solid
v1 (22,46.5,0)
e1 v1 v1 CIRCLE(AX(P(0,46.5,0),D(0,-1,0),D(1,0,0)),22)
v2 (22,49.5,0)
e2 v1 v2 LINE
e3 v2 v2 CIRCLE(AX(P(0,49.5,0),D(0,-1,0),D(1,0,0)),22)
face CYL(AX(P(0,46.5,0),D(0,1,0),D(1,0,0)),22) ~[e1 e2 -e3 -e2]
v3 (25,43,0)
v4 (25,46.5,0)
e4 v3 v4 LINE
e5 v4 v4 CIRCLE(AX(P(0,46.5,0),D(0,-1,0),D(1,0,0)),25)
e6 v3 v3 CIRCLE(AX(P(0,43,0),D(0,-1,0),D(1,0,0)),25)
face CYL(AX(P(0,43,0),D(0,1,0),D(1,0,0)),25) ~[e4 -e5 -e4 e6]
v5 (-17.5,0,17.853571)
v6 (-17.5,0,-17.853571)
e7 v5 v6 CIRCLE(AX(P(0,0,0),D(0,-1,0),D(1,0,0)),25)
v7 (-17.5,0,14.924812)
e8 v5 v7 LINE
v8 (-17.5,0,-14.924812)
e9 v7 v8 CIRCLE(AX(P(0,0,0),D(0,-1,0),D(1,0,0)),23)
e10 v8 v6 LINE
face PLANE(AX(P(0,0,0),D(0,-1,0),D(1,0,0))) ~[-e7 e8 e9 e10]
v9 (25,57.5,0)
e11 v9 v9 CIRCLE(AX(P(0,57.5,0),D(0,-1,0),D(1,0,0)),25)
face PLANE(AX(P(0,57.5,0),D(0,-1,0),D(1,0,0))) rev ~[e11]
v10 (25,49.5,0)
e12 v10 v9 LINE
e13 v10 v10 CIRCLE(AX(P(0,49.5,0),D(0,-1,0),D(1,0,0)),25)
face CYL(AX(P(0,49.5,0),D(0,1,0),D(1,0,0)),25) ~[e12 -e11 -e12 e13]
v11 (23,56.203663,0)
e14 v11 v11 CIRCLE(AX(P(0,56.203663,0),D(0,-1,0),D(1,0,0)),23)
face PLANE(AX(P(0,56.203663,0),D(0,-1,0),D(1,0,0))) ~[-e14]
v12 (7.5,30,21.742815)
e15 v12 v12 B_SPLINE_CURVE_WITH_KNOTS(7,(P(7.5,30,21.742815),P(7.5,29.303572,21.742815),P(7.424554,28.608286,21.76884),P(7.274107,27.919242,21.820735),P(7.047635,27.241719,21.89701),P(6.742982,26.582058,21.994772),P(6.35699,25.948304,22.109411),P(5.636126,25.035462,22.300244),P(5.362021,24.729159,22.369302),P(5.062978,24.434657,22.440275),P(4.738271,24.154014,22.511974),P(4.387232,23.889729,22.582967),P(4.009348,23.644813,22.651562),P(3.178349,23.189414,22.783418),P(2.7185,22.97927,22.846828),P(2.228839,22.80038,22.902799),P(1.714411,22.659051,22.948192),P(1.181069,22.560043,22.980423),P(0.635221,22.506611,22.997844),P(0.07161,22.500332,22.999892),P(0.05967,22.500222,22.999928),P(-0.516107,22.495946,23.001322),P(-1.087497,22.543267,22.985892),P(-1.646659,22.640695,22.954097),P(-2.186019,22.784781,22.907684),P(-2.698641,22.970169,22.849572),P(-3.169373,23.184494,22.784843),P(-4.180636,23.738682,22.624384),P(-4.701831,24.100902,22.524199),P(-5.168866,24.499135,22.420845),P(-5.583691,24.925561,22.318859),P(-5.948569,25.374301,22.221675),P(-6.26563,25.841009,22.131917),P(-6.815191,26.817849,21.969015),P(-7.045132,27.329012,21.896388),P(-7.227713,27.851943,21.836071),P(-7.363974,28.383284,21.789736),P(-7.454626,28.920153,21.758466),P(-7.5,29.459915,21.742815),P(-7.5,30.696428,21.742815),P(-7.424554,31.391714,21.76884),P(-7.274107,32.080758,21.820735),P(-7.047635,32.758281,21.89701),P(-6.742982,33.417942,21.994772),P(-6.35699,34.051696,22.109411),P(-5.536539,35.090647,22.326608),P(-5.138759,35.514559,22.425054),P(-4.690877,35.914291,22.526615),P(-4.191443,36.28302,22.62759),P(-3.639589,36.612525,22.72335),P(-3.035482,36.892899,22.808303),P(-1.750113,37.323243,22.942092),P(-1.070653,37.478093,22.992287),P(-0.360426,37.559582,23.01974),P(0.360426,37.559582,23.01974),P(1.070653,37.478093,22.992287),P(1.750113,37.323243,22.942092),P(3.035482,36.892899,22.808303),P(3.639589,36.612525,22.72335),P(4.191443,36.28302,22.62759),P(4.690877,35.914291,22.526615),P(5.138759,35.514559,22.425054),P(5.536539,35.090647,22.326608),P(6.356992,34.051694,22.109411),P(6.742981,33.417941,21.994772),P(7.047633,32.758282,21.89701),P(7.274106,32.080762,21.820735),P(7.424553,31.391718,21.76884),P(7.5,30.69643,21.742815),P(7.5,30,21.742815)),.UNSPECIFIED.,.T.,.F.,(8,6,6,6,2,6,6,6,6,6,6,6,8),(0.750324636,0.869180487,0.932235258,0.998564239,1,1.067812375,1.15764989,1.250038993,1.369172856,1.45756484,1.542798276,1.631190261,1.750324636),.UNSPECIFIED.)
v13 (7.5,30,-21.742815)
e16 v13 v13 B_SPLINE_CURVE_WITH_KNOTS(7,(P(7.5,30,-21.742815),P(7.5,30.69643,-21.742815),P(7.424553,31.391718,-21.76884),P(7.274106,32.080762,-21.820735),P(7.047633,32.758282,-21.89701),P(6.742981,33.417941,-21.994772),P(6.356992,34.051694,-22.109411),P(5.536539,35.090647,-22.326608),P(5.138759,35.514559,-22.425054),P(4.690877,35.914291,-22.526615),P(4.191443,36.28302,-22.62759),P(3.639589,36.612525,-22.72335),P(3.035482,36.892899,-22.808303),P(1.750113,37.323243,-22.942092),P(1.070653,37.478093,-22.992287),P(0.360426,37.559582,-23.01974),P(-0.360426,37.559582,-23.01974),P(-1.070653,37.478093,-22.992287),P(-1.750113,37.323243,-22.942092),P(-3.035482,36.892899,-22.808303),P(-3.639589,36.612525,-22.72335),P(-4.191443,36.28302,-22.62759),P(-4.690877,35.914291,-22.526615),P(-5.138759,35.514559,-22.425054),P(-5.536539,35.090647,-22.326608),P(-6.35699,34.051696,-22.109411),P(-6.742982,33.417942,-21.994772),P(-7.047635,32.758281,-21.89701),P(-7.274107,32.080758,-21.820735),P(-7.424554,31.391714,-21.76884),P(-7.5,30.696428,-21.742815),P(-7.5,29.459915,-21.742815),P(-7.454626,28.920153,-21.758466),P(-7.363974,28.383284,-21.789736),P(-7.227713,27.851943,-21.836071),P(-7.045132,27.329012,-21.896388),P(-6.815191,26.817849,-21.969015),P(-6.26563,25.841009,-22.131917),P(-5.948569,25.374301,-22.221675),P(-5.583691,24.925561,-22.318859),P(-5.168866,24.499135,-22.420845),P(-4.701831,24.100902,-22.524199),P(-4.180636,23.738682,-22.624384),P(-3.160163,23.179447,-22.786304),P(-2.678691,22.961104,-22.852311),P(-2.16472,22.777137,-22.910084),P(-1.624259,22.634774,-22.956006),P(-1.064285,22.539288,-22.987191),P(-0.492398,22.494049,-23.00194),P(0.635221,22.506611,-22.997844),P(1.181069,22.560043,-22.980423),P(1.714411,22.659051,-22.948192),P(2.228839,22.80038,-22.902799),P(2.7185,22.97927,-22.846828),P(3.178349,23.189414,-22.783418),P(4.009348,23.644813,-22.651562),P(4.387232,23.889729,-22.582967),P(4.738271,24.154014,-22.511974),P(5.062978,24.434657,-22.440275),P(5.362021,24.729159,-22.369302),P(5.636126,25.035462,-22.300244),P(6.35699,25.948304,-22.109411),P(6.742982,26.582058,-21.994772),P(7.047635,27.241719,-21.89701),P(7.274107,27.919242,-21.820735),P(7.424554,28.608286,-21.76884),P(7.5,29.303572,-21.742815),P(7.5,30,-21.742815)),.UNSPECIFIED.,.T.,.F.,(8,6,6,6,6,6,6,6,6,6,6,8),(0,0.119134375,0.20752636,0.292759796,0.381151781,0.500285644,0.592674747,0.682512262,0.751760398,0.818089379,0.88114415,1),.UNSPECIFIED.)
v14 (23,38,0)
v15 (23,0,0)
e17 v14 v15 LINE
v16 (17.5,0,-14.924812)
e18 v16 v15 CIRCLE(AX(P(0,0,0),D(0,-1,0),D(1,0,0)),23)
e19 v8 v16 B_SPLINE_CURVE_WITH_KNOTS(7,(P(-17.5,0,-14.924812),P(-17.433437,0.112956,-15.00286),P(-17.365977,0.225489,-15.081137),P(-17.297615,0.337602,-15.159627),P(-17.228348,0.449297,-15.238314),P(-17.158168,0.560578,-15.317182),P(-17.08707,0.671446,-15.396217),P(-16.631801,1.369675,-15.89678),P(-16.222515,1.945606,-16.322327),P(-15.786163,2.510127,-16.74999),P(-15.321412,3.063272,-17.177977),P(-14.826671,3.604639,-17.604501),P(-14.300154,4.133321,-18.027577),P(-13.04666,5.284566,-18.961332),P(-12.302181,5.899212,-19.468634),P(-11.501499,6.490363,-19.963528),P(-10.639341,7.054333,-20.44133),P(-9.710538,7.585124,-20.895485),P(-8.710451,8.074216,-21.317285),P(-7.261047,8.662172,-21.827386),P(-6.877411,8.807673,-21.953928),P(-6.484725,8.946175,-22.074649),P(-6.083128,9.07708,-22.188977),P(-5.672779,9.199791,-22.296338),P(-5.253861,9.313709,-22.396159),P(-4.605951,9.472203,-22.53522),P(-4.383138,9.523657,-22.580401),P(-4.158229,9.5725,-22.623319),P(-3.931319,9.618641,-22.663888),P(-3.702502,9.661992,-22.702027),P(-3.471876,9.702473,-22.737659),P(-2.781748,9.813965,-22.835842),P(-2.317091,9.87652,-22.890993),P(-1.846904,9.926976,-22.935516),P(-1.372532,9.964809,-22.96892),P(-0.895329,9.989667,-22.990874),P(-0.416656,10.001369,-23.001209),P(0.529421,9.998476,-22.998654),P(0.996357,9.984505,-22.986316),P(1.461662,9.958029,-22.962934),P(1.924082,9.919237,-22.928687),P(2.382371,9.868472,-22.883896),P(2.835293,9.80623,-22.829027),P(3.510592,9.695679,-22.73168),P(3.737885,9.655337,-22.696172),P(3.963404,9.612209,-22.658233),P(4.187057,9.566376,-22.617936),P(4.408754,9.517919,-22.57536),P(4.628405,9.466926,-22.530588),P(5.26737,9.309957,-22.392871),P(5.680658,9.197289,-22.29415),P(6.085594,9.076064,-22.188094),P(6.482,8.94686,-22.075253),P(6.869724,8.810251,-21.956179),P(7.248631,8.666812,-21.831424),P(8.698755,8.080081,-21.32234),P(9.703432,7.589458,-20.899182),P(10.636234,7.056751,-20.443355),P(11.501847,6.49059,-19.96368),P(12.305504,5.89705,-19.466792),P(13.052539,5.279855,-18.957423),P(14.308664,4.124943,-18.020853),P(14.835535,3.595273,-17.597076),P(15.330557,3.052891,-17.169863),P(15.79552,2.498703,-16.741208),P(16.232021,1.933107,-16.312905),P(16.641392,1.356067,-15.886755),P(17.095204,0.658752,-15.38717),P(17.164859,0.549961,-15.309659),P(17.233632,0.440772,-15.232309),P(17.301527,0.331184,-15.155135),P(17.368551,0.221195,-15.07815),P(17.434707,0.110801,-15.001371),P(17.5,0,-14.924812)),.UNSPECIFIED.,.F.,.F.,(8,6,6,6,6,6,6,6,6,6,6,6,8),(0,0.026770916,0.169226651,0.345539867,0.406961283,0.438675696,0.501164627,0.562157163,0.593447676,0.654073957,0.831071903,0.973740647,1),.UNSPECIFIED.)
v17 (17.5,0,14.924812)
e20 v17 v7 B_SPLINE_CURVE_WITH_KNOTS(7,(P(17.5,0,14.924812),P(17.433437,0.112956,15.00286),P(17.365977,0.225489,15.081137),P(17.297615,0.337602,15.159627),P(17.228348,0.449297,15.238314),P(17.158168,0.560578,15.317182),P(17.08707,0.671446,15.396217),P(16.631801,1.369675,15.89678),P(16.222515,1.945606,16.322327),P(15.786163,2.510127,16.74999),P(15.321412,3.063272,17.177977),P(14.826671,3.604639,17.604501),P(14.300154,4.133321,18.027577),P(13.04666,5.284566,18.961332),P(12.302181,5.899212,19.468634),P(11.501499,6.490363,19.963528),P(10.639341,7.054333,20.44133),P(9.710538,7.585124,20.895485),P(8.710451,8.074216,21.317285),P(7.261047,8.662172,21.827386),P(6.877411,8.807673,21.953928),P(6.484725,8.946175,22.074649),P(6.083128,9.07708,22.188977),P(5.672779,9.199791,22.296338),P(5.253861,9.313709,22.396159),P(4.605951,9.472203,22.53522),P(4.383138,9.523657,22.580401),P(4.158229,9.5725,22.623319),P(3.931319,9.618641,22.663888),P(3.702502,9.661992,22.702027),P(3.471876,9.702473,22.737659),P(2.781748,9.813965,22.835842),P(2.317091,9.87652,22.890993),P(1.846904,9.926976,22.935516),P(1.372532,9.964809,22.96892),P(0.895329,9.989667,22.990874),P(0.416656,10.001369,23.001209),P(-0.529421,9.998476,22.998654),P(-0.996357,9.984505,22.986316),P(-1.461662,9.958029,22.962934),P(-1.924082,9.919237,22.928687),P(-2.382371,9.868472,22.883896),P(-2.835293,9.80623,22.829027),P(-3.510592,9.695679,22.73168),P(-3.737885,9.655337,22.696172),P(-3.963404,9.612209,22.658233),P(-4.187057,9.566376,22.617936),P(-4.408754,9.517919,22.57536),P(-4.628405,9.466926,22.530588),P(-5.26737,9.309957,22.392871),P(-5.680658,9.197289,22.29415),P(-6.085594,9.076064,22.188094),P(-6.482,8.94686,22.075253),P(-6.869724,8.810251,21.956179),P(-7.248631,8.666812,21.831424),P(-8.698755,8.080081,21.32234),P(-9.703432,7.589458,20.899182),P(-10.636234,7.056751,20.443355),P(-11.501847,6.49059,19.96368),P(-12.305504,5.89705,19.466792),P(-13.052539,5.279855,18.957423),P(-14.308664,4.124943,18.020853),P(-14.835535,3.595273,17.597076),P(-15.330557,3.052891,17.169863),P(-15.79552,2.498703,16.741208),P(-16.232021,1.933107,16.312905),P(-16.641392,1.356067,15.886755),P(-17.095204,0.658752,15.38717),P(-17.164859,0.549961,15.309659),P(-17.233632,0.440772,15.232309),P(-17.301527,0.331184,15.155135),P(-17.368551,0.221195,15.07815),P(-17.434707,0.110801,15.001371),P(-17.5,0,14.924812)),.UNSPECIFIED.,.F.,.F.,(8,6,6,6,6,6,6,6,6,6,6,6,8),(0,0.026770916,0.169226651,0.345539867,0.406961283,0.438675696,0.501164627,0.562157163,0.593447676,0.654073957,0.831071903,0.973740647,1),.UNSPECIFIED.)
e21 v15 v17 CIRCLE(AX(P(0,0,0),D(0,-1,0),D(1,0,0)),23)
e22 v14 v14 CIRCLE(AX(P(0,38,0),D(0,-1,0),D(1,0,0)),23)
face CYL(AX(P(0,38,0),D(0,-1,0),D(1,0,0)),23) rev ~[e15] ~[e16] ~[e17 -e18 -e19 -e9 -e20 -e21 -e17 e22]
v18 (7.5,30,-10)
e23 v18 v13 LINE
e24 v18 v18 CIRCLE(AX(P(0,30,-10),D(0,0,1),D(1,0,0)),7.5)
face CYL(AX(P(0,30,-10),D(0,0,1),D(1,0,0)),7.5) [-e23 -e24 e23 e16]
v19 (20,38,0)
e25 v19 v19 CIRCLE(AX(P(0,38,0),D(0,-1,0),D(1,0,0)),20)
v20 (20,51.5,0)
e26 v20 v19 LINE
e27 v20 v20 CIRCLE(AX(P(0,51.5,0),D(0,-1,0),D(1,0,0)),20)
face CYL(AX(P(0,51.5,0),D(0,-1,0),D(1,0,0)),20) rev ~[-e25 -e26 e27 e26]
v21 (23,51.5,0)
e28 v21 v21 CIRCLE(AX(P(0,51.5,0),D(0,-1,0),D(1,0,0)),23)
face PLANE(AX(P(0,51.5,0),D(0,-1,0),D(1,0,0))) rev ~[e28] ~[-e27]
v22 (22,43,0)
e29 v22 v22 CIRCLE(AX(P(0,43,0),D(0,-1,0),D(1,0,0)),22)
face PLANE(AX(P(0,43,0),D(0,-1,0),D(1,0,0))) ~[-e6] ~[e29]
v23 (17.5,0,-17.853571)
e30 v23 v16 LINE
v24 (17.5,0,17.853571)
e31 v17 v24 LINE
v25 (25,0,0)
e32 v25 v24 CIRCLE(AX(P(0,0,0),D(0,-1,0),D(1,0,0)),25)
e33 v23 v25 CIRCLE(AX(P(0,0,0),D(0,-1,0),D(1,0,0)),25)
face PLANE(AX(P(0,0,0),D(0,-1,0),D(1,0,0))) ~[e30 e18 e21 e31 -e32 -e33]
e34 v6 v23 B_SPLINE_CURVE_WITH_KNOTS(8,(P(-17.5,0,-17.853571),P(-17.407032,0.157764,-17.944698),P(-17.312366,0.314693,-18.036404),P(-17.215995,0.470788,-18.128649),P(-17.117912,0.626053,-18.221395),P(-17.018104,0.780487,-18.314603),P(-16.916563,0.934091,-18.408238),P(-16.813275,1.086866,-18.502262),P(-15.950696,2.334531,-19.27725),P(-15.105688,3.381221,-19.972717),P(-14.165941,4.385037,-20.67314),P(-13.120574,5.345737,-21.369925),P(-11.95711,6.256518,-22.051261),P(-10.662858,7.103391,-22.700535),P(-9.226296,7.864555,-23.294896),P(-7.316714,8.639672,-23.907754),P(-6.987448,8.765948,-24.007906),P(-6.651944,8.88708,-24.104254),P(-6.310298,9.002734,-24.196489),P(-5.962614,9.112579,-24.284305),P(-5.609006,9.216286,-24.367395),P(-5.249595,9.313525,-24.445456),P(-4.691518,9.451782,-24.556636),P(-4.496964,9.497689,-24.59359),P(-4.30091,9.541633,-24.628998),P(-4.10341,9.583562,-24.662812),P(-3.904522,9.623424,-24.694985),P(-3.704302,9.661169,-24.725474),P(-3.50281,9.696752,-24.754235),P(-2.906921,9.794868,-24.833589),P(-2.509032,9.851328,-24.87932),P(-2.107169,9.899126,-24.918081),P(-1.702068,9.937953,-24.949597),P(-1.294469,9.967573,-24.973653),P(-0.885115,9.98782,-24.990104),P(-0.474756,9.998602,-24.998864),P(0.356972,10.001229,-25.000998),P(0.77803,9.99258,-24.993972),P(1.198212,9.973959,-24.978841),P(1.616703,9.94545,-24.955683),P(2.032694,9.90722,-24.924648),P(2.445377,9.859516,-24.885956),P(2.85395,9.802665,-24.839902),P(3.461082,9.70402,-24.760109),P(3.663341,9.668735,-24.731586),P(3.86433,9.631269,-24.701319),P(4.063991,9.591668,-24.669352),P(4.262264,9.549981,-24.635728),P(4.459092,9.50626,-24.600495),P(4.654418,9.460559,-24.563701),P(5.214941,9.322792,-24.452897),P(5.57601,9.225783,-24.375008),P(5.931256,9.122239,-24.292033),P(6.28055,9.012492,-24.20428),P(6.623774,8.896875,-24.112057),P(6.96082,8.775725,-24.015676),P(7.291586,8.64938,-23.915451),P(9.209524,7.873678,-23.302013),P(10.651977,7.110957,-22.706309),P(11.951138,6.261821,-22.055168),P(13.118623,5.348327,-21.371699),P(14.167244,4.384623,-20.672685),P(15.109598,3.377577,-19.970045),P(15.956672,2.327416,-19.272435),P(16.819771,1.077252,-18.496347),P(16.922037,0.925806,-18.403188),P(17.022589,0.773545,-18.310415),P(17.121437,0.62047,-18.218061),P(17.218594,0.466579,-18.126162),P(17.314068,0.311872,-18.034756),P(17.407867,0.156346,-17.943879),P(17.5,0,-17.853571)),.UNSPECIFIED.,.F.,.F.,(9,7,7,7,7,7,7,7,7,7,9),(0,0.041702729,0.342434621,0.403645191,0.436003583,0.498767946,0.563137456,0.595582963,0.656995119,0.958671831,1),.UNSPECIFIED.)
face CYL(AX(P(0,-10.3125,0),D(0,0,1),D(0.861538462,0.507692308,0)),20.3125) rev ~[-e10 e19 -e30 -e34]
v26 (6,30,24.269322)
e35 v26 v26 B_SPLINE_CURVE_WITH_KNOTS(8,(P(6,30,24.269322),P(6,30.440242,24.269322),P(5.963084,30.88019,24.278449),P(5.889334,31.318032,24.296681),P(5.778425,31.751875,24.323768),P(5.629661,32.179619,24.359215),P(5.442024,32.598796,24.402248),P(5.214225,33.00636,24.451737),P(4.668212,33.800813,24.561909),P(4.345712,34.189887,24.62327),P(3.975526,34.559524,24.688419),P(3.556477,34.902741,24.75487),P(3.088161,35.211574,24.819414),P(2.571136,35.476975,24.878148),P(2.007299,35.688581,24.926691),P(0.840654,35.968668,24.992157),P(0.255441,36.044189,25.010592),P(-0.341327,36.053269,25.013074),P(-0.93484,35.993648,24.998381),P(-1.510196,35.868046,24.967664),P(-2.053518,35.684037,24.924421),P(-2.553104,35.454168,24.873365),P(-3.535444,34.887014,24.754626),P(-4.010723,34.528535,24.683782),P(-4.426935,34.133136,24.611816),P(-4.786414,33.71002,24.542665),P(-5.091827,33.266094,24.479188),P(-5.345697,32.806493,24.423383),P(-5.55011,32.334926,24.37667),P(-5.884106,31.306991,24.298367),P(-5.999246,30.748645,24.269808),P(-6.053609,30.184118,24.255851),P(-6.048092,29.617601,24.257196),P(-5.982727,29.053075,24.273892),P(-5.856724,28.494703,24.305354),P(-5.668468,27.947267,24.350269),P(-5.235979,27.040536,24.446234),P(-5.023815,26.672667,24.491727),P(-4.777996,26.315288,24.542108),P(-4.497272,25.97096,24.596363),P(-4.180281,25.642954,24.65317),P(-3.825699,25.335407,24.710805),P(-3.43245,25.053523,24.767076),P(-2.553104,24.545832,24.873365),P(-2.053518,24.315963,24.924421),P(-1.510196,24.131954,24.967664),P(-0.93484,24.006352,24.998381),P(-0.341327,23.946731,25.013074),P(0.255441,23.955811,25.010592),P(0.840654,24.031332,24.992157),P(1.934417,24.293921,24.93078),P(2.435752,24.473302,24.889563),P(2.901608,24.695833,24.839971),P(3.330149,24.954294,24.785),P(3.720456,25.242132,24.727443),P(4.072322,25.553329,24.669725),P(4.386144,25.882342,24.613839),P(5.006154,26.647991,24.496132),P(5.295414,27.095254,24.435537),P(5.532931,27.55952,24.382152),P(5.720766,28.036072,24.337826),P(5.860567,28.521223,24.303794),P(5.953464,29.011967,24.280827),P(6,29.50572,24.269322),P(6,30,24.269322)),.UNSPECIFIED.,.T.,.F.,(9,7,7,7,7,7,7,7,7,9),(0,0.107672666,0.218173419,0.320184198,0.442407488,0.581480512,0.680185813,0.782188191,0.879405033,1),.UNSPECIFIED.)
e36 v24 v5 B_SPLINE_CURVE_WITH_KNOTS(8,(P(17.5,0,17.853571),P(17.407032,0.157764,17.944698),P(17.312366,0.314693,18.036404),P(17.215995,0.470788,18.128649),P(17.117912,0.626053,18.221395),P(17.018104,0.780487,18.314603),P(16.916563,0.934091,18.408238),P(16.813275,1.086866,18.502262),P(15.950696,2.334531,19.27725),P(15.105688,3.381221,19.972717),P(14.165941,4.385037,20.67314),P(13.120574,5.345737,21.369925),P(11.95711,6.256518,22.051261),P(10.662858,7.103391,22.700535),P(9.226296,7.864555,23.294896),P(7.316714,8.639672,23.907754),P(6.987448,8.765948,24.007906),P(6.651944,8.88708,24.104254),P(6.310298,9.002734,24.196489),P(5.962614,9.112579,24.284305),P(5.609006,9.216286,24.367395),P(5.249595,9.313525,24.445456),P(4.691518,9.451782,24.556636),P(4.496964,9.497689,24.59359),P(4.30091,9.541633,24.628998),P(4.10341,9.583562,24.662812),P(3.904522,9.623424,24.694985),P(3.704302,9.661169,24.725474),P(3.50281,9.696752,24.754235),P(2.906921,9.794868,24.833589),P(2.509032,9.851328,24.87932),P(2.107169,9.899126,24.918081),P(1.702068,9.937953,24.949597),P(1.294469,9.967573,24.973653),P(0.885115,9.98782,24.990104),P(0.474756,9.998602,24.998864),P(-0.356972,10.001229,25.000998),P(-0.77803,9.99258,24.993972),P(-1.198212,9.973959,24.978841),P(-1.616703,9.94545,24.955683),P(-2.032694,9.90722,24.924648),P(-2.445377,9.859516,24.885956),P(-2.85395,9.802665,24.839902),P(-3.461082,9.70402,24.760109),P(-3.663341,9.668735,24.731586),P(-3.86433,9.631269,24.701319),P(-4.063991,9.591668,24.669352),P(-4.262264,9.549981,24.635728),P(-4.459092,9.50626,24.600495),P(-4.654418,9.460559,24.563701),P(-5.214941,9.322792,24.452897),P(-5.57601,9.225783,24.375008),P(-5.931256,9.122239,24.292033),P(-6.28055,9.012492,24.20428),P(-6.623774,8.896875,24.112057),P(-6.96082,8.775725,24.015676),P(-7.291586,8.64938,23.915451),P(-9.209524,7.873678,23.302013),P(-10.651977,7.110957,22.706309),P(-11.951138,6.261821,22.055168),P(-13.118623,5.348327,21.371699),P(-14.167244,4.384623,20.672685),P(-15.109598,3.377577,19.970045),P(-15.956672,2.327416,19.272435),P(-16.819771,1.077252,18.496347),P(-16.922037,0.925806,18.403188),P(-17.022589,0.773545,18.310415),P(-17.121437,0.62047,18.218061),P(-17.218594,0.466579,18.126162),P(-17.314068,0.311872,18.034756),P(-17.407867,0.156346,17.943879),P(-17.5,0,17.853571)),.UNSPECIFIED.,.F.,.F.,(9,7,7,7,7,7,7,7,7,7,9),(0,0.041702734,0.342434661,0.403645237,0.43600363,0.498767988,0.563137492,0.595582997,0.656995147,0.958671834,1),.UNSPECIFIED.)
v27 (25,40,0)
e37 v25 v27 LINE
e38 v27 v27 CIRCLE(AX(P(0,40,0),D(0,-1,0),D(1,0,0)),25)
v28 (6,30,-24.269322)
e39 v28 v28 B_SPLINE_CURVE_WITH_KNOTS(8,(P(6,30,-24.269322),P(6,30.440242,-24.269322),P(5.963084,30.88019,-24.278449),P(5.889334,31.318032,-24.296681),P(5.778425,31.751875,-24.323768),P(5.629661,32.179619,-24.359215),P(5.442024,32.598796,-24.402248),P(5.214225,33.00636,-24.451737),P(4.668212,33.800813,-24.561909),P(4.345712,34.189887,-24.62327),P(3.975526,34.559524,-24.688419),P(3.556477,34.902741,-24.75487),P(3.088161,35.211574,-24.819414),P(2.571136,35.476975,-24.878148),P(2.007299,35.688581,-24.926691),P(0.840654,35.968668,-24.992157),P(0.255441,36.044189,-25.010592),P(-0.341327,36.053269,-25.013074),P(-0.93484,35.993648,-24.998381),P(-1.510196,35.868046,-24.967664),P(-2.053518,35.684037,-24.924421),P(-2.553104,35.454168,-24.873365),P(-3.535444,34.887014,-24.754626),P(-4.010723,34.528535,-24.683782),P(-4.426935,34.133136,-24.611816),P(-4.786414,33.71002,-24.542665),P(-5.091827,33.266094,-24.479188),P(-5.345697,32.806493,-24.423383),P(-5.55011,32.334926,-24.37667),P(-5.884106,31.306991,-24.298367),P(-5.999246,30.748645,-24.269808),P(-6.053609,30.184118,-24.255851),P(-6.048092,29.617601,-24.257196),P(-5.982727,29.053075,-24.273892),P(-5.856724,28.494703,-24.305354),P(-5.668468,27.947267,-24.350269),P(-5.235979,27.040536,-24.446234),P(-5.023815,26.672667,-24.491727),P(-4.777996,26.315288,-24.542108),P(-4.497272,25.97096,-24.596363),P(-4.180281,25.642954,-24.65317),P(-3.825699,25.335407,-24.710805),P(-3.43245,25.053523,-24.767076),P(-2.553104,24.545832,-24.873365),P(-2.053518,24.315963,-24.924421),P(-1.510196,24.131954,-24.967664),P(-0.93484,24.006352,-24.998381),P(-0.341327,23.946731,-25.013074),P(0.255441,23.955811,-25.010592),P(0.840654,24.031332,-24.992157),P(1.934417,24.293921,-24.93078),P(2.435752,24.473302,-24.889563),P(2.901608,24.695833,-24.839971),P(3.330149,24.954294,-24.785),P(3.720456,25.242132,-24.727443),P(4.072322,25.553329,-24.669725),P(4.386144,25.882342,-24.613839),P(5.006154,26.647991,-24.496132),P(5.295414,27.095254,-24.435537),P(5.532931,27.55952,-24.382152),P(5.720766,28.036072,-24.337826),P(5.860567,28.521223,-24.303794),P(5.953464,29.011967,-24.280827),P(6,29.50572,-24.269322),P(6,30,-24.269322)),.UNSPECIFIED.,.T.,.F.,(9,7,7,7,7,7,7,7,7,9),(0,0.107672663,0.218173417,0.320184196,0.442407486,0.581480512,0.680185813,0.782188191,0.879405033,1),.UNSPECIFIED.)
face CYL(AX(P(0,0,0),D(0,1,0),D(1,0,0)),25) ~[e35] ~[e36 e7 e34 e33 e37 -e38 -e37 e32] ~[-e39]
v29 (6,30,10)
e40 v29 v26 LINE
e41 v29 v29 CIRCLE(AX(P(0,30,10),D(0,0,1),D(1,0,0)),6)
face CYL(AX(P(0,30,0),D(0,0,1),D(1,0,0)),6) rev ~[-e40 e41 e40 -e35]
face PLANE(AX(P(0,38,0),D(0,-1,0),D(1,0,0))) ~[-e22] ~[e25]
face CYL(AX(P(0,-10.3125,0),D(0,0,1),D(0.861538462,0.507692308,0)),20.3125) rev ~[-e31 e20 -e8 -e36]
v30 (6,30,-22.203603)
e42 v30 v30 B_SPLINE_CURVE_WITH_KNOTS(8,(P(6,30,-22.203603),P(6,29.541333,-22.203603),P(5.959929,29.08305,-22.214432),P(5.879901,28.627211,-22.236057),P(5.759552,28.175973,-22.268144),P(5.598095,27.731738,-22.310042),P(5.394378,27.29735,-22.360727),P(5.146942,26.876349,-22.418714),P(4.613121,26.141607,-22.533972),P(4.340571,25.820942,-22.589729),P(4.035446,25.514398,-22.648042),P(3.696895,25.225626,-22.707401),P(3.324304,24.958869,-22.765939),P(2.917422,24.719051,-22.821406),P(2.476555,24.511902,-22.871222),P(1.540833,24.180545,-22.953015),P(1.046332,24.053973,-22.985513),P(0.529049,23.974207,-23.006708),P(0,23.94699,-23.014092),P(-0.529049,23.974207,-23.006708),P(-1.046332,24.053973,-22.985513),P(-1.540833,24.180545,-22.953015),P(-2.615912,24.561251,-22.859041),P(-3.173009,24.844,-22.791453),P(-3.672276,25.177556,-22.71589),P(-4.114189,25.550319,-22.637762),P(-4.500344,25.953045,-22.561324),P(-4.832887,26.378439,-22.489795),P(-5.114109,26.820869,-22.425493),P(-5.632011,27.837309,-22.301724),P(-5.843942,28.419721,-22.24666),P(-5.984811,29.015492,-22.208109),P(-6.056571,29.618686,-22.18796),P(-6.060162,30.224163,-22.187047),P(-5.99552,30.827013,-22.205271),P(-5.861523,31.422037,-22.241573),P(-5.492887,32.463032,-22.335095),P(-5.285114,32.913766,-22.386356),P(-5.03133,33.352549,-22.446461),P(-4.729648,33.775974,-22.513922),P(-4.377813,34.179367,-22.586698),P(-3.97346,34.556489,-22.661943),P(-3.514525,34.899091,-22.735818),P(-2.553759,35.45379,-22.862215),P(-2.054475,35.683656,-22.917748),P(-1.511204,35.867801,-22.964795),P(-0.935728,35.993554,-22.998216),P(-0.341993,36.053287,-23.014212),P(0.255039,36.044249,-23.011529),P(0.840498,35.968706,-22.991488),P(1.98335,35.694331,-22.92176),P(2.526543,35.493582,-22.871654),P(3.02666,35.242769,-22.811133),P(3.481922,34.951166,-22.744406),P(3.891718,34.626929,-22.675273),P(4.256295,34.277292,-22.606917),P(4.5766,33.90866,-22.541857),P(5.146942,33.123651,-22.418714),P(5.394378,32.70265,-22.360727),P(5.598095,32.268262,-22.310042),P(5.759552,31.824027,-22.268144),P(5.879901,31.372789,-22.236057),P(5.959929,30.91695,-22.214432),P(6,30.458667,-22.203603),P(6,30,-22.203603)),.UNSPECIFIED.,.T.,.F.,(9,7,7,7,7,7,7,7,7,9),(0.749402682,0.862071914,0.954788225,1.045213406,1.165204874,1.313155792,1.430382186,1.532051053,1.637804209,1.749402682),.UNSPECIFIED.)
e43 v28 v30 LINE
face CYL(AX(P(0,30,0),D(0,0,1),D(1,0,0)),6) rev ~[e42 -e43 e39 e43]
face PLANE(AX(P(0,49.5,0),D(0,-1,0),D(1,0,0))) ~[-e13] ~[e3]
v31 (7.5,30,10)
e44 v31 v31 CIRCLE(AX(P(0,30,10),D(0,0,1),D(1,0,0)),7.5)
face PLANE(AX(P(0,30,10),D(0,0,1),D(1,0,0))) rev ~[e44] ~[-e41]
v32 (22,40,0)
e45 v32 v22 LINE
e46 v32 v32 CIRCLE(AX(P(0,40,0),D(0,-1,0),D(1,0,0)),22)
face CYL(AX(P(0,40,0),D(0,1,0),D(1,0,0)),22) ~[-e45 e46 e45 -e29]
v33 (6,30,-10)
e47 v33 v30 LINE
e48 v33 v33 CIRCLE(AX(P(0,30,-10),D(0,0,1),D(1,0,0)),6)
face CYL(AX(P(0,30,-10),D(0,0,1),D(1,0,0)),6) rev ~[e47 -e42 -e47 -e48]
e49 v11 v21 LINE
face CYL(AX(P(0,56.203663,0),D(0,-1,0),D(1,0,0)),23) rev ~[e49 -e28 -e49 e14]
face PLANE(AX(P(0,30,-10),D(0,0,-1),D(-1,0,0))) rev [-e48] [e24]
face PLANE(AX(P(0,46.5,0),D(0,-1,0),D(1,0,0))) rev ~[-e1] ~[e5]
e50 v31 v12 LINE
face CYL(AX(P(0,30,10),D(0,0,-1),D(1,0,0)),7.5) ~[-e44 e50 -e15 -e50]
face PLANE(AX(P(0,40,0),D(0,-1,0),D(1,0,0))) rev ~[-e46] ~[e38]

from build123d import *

# Parameters (mm, degrees)
CUT_EXTRUDE1_DEPTH  = 31.5
SKETCH3_R           = 6
CUT_EXTRUDE2_DEPTH  = 31.5
SKETCH4_R           = 7.5
SKETCH4_R_2         = 6
BOSS_EXTRUDE1_DEPTH = 13


with BuildPart() as part:
    # Sketch1 → Revolve1 (revolve)
    with BuildSketch(Plane.XY):
        Polygon((23, 0), (25, 0), (25, 40), (22, 40), (22, 43), (25, 43), (25, 46.5), (22, 46.5), (22, 49.5), (25, 49.5), (25, 57.5), (0, 57.5), (0, 56.203662834), (23, 56.203662834), (23, 51.5), (20, 51.5), (20, 44.75), (20, 38), (23, 38), align=None)
    revolve(axis=Axis((0, 63, 0), (0, -1, 0)))

    # Sketch2 → Cut-Extrude1 (cut, symmetric)
    with BuildSketch(Plane.XY):
        with BuildLine():
            Line((-17.5, 0), (17.5, 0))
            ThreePointArc((17.5, 0), (0, 10), (-17.5, 0))
        make_face()
    extrude(amount=CUT_EXTRUDE1_DEPTH, both=True, mode=Mode.SUBTRACT)

    # Sketch3 → Cut-Extrude2 (cut, symmetric)
    with BuildSketch(Plane.XY):
        with Locations((0, 30)):
            Circle(SKETCH3_R)
    extrude(amount=CUT_EXTRUDE2_DEPTH, both=True, mode=Mode.SUBTRACT)

    # Sketch4 → Boss-Extrude1 (add)
    with BuildSketch(Plane.XY.offset(10)):
        with Locations((0, 30)):
            Circle(SKETCH4_R)
        with Locations((0, 30)):
            Circle(SKETCH4_R_2, mode=Mode.SUBTRACT)
    boss_extrude1 = extrude(amount=BOSS_EXTRUDE1_DEPTH)

    # Mirror1: Boss-Extrude1 across plane
    add(boss_extrude1.mirror(Plane.XY))


solid = part.part
